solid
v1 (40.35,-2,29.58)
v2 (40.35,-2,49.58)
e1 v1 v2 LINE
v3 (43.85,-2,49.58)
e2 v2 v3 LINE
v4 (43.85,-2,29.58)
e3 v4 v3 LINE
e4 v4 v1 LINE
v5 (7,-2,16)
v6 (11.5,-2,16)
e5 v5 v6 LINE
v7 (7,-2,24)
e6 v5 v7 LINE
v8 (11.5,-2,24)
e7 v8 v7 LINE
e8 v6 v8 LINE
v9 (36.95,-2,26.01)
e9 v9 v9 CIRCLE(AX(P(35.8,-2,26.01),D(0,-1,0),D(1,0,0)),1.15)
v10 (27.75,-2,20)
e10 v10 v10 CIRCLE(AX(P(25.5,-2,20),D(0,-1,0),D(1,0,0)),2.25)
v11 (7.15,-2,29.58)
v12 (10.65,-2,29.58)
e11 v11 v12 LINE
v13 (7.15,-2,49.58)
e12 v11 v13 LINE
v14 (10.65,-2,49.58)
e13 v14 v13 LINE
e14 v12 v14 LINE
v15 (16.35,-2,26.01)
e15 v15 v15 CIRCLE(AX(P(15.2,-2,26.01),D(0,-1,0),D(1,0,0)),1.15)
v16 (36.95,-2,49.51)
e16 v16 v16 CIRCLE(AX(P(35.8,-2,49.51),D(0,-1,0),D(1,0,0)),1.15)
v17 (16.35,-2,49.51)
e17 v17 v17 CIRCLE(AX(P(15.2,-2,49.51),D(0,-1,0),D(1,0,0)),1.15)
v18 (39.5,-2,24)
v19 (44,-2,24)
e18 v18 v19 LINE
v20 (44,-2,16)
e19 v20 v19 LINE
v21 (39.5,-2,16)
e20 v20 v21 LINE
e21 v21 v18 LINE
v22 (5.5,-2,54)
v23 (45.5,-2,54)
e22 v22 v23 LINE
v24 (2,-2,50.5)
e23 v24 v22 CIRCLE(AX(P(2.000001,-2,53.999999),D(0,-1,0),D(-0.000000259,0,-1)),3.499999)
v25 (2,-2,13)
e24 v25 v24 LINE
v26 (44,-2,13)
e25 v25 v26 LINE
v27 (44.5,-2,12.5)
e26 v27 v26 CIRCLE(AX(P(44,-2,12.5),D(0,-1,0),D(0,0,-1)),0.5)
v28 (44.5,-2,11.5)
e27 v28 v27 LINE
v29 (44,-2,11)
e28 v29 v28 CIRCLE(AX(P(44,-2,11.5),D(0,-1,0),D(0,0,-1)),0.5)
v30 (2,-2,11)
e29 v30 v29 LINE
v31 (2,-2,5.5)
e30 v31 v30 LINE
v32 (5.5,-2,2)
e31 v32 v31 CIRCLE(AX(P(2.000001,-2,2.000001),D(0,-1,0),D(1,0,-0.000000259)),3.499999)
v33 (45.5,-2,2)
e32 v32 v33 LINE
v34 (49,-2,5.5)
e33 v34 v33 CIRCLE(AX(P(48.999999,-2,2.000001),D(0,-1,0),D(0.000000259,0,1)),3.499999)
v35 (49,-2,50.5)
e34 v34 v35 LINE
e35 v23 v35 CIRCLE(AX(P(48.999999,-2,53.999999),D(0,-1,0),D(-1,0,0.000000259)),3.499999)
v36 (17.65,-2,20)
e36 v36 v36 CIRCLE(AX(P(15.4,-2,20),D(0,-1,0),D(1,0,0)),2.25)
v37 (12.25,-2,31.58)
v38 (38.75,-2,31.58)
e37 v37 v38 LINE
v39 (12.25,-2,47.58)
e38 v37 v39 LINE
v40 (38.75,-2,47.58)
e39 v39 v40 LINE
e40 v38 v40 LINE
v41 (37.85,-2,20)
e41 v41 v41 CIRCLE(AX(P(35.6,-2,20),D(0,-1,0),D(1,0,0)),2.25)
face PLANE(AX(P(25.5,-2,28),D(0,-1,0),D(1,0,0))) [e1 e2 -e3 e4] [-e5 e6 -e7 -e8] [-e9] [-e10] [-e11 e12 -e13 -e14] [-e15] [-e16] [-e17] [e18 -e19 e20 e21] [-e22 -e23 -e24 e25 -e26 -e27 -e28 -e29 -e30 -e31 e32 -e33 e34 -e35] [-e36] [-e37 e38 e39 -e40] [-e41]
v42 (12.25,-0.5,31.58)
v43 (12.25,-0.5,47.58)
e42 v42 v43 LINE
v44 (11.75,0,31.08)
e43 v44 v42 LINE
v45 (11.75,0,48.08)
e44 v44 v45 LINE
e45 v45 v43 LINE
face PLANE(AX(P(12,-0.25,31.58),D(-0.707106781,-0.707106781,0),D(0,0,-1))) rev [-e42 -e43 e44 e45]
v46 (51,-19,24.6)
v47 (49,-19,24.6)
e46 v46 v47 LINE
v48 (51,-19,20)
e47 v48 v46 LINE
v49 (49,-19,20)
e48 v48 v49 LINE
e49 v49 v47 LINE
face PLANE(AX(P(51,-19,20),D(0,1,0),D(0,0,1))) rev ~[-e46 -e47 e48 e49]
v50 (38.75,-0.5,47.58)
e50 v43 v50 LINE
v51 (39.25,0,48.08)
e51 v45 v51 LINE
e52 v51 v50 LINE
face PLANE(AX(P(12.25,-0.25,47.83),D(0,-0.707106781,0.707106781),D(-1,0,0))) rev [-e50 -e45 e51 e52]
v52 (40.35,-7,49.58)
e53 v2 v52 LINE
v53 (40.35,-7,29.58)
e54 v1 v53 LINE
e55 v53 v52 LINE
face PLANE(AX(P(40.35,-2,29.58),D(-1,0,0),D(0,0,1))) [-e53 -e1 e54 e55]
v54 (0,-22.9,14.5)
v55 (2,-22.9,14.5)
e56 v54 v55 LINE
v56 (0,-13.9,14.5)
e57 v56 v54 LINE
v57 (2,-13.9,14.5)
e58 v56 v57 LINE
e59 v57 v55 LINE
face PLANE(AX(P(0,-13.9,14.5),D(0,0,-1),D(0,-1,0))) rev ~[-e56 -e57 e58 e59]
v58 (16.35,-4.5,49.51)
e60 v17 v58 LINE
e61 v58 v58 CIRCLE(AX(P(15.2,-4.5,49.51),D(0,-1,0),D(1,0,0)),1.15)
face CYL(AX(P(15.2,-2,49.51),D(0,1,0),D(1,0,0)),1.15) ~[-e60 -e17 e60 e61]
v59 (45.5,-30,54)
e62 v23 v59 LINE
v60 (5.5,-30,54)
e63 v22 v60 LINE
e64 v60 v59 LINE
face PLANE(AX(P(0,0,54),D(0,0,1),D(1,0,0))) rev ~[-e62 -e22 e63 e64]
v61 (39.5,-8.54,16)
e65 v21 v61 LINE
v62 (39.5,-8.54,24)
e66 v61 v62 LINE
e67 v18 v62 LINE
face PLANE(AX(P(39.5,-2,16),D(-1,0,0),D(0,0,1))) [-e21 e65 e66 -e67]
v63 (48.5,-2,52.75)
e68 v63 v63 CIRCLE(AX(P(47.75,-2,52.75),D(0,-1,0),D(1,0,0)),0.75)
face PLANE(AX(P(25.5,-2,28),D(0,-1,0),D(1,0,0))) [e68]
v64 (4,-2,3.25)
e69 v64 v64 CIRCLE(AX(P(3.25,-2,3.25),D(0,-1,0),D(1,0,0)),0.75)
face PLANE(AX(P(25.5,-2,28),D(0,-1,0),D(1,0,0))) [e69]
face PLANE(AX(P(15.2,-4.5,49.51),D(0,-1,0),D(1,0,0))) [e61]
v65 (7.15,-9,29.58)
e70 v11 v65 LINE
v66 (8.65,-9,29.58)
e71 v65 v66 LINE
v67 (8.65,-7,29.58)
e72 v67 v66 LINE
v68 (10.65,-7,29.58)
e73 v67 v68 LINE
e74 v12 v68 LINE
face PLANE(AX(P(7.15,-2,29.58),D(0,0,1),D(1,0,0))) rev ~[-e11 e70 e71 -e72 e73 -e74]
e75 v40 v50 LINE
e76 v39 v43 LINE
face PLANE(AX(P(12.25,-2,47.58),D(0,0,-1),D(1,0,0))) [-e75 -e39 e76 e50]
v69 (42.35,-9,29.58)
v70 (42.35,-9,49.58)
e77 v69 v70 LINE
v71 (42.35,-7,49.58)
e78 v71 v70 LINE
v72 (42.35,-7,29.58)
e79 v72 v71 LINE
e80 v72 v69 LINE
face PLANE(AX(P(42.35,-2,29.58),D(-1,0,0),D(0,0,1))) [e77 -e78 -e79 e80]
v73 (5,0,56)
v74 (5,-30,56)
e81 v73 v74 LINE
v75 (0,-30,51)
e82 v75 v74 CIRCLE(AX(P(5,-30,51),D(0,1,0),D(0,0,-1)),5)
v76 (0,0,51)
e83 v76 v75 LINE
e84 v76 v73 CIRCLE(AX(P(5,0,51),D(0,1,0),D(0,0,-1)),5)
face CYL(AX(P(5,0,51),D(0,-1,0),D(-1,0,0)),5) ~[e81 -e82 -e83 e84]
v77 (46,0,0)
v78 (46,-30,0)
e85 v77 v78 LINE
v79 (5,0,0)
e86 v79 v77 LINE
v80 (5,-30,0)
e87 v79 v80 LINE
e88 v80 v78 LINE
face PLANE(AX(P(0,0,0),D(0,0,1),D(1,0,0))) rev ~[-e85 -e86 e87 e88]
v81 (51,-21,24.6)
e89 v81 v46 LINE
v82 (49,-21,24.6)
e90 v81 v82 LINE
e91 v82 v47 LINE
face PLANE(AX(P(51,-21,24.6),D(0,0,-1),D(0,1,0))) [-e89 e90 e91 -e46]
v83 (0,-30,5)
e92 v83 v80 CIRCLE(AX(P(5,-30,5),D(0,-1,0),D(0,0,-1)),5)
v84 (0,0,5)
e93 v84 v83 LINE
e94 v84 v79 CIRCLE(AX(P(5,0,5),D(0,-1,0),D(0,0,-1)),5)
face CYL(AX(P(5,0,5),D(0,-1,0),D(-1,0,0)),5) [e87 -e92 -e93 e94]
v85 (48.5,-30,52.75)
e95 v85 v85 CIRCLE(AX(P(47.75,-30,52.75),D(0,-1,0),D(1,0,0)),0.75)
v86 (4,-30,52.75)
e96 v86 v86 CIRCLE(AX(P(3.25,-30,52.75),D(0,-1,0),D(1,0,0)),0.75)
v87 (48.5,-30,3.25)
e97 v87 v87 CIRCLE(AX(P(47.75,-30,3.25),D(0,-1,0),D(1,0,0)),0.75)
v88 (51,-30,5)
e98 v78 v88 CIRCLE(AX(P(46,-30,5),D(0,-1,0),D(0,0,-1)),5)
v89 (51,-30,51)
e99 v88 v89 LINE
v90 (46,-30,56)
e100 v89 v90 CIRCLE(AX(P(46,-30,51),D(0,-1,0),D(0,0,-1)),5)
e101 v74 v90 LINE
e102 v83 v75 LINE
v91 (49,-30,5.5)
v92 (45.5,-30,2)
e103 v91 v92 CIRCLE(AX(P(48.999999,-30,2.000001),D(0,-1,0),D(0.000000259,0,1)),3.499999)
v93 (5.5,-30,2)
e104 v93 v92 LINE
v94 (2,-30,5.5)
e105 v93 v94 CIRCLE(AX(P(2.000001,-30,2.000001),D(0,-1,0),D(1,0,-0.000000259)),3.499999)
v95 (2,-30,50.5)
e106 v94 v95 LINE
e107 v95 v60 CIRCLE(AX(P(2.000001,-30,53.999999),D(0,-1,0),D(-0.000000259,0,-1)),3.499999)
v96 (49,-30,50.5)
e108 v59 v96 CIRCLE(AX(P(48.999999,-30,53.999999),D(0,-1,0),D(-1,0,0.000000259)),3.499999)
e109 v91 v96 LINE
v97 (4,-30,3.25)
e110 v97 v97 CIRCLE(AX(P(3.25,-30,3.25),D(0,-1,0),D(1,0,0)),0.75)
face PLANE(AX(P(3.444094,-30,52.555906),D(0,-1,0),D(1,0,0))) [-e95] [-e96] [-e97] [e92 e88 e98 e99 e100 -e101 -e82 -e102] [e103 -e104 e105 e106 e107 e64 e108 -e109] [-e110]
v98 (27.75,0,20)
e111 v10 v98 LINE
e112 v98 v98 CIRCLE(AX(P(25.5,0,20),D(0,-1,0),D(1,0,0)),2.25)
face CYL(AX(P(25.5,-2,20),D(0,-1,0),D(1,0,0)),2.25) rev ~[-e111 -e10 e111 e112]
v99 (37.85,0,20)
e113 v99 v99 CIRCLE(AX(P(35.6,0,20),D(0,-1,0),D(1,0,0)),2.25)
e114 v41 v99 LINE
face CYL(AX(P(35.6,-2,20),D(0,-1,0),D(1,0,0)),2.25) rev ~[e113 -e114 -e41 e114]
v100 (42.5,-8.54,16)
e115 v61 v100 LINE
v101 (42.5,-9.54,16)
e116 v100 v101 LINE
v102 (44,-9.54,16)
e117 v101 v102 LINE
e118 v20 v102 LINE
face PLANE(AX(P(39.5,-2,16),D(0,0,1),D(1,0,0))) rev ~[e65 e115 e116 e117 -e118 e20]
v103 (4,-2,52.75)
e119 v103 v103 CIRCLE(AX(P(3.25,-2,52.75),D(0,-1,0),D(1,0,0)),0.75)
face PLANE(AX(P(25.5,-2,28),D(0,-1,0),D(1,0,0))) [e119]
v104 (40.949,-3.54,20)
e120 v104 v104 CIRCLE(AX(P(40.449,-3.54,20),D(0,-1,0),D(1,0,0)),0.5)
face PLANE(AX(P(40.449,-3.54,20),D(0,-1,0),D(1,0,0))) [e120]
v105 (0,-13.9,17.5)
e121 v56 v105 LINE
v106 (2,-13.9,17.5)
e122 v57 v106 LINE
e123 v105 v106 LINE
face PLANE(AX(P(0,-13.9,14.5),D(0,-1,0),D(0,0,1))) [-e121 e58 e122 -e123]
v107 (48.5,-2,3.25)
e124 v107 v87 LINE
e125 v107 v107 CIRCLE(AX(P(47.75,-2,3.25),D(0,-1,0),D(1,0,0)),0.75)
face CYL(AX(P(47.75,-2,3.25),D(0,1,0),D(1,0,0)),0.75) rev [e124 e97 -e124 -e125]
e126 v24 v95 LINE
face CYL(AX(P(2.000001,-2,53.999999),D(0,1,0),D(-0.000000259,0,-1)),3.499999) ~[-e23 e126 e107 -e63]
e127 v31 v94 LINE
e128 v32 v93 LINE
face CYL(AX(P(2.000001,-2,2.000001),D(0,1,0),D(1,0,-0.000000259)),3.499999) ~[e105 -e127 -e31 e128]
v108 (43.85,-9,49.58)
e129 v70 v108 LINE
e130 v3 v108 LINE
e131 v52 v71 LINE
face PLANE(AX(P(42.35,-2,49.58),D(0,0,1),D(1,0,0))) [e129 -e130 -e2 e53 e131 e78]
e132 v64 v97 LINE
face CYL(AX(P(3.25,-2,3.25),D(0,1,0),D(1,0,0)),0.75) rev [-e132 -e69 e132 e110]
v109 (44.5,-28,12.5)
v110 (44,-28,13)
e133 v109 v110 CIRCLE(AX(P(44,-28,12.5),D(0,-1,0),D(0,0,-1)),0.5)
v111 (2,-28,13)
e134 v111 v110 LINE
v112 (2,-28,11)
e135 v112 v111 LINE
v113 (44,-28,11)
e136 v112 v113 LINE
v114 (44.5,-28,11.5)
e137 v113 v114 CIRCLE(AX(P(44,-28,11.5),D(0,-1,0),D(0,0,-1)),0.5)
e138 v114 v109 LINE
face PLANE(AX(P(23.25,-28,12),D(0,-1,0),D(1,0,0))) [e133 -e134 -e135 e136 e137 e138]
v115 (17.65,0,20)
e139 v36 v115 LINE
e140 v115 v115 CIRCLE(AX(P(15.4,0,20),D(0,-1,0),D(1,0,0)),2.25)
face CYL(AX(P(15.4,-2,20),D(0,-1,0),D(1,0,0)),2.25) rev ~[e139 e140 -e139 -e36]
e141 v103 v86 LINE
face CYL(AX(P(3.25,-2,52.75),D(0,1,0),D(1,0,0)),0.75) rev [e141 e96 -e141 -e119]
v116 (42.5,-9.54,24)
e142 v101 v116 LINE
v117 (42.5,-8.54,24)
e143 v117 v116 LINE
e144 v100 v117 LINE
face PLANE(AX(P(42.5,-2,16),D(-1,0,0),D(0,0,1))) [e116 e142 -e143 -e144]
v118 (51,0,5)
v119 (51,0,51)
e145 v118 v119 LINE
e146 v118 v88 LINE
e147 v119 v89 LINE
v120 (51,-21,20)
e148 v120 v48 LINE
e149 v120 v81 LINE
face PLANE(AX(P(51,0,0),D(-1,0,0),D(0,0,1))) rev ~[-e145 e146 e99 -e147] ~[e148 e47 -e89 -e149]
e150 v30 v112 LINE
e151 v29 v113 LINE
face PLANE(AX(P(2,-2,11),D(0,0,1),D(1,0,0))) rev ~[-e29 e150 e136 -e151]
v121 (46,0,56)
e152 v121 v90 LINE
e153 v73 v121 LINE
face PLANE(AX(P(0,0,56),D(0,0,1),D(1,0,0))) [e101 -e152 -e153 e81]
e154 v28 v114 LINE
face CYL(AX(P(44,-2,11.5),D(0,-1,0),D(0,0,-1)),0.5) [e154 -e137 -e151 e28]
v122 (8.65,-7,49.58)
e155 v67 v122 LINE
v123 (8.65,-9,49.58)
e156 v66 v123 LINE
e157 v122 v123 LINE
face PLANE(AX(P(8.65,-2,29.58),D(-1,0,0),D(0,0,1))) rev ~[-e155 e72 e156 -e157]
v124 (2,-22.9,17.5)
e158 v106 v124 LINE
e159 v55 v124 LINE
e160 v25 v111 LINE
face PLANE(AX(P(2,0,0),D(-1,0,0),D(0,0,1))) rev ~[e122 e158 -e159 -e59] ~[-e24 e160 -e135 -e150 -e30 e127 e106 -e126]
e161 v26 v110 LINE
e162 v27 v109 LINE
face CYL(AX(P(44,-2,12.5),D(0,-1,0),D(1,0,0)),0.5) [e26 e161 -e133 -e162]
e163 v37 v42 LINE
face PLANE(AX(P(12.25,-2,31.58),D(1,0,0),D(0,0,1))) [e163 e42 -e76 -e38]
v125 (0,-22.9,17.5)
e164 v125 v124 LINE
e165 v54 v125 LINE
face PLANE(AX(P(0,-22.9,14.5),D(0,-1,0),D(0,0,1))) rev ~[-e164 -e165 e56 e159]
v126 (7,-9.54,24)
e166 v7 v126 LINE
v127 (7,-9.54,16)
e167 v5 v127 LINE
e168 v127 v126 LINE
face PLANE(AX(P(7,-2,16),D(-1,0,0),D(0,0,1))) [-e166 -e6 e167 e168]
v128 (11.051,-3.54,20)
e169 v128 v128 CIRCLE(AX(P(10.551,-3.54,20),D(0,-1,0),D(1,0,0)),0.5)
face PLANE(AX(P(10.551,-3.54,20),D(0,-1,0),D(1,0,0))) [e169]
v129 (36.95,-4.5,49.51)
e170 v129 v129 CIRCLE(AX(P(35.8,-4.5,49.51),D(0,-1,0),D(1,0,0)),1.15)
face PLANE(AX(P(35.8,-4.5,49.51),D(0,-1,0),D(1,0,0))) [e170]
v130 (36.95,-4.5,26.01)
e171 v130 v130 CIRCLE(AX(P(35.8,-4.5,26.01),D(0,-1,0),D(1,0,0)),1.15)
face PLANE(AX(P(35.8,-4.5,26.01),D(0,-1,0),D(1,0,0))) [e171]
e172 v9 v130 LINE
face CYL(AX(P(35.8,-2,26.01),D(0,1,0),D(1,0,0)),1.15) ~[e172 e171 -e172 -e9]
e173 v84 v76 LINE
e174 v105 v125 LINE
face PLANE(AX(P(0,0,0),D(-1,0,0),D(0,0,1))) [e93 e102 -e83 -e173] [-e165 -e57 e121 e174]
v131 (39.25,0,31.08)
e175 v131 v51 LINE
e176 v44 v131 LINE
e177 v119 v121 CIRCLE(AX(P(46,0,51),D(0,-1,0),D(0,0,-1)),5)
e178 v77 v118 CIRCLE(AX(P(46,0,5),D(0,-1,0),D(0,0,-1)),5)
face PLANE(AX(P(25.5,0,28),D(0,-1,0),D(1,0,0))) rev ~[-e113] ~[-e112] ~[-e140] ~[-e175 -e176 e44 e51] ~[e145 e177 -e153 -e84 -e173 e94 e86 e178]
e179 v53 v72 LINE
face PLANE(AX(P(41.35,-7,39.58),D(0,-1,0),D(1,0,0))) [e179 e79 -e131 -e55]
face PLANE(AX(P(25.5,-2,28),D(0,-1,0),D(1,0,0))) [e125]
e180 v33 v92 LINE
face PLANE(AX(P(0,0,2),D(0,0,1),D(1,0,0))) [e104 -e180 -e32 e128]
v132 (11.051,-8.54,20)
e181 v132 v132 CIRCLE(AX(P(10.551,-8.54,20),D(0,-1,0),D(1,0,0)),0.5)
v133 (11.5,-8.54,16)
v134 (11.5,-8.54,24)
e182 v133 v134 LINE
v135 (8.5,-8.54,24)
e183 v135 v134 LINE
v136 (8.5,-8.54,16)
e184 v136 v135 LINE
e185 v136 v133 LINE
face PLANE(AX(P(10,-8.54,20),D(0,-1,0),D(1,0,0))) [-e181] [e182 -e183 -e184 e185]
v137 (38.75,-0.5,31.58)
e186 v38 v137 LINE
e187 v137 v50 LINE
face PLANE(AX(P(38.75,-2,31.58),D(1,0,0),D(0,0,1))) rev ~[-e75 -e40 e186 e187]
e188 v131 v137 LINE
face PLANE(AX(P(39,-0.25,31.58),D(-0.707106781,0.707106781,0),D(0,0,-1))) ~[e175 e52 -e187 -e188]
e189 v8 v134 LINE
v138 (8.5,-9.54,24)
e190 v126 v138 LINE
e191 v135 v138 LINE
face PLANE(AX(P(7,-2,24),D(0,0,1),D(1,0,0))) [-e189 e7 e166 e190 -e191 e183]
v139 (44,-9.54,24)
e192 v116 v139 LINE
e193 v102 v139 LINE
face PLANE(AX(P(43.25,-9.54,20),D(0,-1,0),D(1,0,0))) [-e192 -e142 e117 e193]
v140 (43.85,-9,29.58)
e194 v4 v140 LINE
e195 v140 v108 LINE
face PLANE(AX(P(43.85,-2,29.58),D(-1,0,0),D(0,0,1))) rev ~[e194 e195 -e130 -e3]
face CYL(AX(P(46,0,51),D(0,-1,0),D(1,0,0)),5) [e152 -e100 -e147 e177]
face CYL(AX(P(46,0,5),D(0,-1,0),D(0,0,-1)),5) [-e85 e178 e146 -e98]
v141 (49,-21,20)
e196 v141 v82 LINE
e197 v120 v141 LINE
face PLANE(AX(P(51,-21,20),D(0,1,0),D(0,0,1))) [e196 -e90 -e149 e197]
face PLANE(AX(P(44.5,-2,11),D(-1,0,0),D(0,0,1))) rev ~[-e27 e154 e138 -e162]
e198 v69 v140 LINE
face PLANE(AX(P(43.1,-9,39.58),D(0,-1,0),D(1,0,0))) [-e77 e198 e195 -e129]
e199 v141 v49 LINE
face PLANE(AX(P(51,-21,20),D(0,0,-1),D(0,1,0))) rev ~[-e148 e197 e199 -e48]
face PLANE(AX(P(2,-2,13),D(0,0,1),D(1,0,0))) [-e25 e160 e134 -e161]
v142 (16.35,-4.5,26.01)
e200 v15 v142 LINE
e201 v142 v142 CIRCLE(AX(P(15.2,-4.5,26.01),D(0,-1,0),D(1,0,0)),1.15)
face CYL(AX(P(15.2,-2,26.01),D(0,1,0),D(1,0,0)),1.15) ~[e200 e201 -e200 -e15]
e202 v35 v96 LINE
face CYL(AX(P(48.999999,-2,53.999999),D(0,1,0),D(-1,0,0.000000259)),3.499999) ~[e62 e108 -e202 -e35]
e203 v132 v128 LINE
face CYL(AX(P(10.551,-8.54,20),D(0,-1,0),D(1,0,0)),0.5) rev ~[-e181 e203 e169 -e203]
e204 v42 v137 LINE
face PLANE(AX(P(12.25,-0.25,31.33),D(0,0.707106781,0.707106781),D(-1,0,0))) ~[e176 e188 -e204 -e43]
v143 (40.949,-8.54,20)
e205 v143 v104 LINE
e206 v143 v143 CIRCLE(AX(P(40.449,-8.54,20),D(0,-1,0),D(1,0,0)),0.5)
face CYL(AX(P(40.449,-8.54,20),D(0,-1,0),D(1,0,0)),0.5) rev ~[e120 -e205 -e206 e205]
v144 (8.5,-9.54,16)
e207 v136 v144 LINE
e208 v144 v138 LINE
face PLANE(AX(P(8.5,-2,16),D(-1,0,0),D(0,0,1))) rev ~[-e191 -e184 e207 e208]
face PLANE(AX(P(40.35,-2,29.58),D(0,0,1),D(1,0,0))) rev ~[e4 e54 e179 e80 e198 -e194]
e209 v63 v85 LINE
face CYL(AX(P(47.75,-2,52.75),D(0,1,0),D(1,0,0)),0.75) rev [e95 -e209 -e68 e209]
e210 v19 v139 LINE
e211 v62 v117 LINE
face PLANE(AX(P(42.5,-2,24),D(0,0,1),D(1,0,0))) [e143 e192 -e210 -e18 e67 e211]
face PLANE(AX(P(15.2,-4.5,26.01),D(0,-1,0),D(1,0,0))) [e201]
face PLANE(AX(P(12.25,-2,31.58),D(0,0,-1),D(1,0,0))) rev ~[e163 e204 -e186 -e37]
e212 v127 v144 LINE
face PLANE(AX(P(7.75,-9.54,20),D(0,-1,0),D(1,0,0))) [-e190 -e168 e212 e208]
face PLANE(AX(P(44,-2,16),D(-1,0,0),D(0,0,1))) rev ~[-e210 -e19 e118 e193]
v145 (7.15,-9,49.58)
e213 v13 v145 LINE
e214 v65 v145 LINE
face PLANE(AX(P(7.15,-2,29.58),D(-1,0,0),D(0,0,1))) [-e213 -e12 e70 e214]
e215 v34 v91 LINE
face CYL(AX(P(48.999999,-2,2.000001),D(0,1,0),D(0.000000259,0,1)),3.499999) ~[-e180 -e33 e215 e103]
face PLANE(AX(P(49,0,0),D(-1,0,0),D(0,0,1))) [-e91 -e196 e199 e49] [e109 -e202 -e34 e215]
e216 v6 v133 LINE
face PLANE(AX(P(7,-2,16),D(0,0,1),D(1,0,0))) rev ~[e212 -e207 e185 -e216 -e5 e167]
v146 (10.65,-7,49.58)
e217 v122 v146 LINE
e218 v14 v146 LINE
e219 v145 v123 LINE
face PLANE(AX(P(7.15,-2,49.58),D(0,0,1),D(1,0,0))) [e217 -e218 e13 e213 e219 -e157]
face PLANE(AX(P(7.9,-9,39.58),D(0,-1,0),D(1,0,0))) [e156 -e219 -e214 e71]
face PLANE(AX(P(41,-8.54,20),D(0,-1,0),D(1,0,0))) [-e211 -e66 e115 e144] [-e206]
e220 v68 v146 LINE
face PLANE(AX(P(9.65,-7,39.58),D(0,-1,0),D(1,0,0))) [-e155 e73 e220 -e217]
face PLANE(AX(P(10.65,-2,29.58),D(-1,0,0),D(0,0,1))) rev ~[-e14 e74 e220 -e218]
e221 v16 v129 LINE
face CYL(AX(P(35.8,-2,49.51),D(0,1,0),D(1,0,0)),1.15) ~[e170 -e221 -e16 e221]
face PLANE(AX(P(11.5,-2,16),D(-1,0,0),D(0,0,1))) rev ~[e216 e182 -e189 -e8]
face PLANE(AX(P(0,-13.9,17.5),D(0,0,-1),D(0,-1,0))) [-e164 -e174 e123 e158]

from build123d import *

# Parameters (mm, degrees)
F0_W      = 51
F0_H      = 56
F1_DEPTH  = 30
F2_T      = -2
F3_R      = 5
F4_W      = 26.5
F4_H      = 16
F5_DEPTH  = 2.001
F6_SIZE   = 0.5
F7_W      = 42.5
F7_H      = 2
F8_DEPTH  = 26
F9_R      = 0.5
F10_W     = 9
F10_H     = 3
F11_DEPTH = 3
F12_W     = 2
F12_H     = 20
F13_DEPTH = 5
F12_W_2   = 1.5
F14_DEPTH = 7
F15_W     = 3
F15_H     = 8
F16_DEPTH = 6.54
F17_R     = 2.25
F18_DEPTH = 2.001
F15_W_2   = 1.5
F19_DEPTH = 7.54
F20_R     = 0.5
F21_DEPTH = 5
F22_R     = 1.15
F23_DEPTH = 2.5
F24_R     = 0.75
F25_DEPTH = 28
F26_W     = 2
F26_H     = 4.6
F27_DEPTH = 2


with BuildPart() as f1:
    # F0 (on Front) → F1 (new body)
    with BuildSketch(Plane.XZ):
        with Locations((25.5, 28)):
            Rectangle(F0_W, F0_H)
    extrude(amount=F1_DEPTH)

    # F2
    f2_openings = [f1.faces().sort_by_distance(p)[0] for p in [
        (25.5, -30, 28),
    ]]
    offset(amount=F2_T, openings=f2_openings)

    # F3
    f3_edges = [f1.edges().sort_by_distance(p)[0] for p in [
        (0, -15, 56),
        (0, -15, 0),
        (51, -15, 0),
        (51, -15, 56),
    ]]
    fillet(f3_edges, radius=F3_R)

    # F4 (on face) → F5 (cut, through all)
    with BuildSketch(Plane.XZ.offset(2)):
        with Locations((25.5, 39.58)):
            Rectangle(F4_W, F4_H)
    extrude(amount=-F5_DEPTH, mode=Mode.SUBTRACT)

    # F6
    f6_edges = [f1.edges().sort_by_distance(p)[0] for p in [
        (25.5, 0, 47.58),
        (38.75, 0, 39.58),
        (25.5, 0, 31.58),
        (12.25, 0, 39.58),
    ]]
    chamfer(f6_edges, length=F6_SIZE)

    # F7 (on face) → F8 (join)
    with BuildSketch(Plane.XZ.offset(2)):
        with Locations((23.25, 12)):
            Rectangle(F7_W, F7_H)
    extrude(amount=F8_DEPTH)

    # F9
    f9_edges = [f1.edges().sort_by_distance(p)[0] for p in [
        (44.5, -15, 11),
        (44.5, -15, 13),
    ]]
    fillet(f9_edges, radius=F9_R)

    # F10 (on face) → F11 (cut)
    with BuildSketch(Plane(origin=(0, 0, 0), x_dir=(0, -1, 0), z_dir=(-1, 0, 0))):
        with Locations((18.4, 16)):
            Rectangle(F10_W, F10_H)
    extrude(amount=-F11_DEPTH, mode=Mode.SUBTRACT)

    # F12 (on face) → F13 (join)
    with BuildSketch(Plane.XZ.offset(2)):
        with Locations((9.65, 39.58)):
            Rectangle(F12_W, F12_H)
        with Locations((41.35, 39.58)):
            Rectangle(F12_W, F12_H)
    extrude(amount=F13_DEPTH)

    # F12 (on face) → F14 (join)
    with BuildSketch(Plane.XZ.offset(2)):
        with Locations((7.9, 39.58)):
            Rectangle(F12_W_2, F12_H)
        with Locations((43.1, 39.58)):
            Rectangle(F12_W_2, F12_H)
    extrude(amount=F14_DEPTH)

    # F15 (on face) → F16 (join)
    with BuildSketch(Plane.XZ.offset(2)):
        with Locations((10, 20)):
            Rectangle(F15_W, F15_H)
        with Locations((41, 20)):
            Rectangle(F15_W, F15_H)
    extrude(amount=F16_DEPTH)

    # F17 (on face) → F18 (cut, through all)
    with BuildSketch(Plane.XZ.offset(2)):
        with Locations((15.4, 20)):
            Circle(F17_R)
        with Locations((25.5, 20)):
            Circle(F17_R)
        with Locations((35.6, 20)):
            Circle(F17_R)
    extrude(amount=-F18_DEPTH, mode=Mode.SUBTRACT)

    # F15 (on face) → F19 (join)
    with BuildSketch(Plane.XZ.offset(2)):
        with Locations((7.75, 20)):
            Rectangle(F15_W_2, F15_H)
        with Locations((43.25, 20)):
            Rectangle(F15_W_2, F15_H)
    extrude(amount=F19_DEPTH)

    # F20 (on face) → F21 (cut)
    with BuildSketch(Plane.XZ.offset(8.54)):
        with Locations((10.551, 20)):
            Circle(F20_R)
        with Locations((40.449, 20)):
            Circle(F20_R)
    extrude(amount=-F21_DEPTH, mode=Mode.SUBTRACT)

    # F22 (on face) → F23 (join)
    with BuildSketch(Plane.XZ.offset(2)):
        with Locations((15.2, 49.51)):
            Circle(F22_R)
        with Locations((35.8, 49.51)):
            Circle(F22_R)
        with Locations((35.8, 26.01)):
            Circle(F22_R)
        with Locations((15.2, 26.01)):
            Circle(F22_R)
    extrude(amount=F23_DEPTH)

    # F24 (on face) → F25 (join)
    with BuildSketch(Plane.XZ.offset(2)):
        with BuildLine():
            Line((5.5, 54), (2, 54))
            Line((2, 54), (2, 50.5))
            ThreePointArc((2, 50.5), (4.474874, 51.525126), (5.5, 54))
        make_face()
        with Locations((3.25, 52.75)):
            Circle(F24_R, mode=Mode.SUBTRACT)
        with BuildLine():
            Line((49, 50.5), (49, 54))
            Line((49, 54), (45.5, 54))
            ThreePointArc((45.5, 54), (46.525126, 51.525126), (49, 50.5))
        make_face()
        with Locations((47.75, 52.75)):
            Circle(F24_R, mode=Mode.SUBTRACT)
        with BuildLine():
            Line((45.5, 2), (49, 2))
            Line((49, 2), (49, 5.5))
            ThreePointArc((49, 5.5), (46.525126, 4.474874), (45.5, 2))
        make_face()
        with Locations((47.75, 3.25)):
            Circle(F24_R, mode=Mode.SUBTRACT)
        with BuildLine():
            Line((2, 5.5), (2, 2))
            Line((2, 2), (5.5, 2))
            ThreePointArc((5.5, 2), (4.474874, 4.474874), (2, 5.5))
        make_face()
        with Locations((3.25, 3.25)):
            Circle(F24_R, mode=Mode.SUBTRACT)
    extrude(amount=F25_DEPTH)

    # F26 (on face) → F27 (cut)
    with BuildSketch(Plane.YZ.offset(51)):
        with Locations((-20, 22.3)):
            Rectangle(F26_W, F26_H)
    extrude(amount=-F27_DEPTH, mode=Mode.SUBTRACT)


solid = f1.part
